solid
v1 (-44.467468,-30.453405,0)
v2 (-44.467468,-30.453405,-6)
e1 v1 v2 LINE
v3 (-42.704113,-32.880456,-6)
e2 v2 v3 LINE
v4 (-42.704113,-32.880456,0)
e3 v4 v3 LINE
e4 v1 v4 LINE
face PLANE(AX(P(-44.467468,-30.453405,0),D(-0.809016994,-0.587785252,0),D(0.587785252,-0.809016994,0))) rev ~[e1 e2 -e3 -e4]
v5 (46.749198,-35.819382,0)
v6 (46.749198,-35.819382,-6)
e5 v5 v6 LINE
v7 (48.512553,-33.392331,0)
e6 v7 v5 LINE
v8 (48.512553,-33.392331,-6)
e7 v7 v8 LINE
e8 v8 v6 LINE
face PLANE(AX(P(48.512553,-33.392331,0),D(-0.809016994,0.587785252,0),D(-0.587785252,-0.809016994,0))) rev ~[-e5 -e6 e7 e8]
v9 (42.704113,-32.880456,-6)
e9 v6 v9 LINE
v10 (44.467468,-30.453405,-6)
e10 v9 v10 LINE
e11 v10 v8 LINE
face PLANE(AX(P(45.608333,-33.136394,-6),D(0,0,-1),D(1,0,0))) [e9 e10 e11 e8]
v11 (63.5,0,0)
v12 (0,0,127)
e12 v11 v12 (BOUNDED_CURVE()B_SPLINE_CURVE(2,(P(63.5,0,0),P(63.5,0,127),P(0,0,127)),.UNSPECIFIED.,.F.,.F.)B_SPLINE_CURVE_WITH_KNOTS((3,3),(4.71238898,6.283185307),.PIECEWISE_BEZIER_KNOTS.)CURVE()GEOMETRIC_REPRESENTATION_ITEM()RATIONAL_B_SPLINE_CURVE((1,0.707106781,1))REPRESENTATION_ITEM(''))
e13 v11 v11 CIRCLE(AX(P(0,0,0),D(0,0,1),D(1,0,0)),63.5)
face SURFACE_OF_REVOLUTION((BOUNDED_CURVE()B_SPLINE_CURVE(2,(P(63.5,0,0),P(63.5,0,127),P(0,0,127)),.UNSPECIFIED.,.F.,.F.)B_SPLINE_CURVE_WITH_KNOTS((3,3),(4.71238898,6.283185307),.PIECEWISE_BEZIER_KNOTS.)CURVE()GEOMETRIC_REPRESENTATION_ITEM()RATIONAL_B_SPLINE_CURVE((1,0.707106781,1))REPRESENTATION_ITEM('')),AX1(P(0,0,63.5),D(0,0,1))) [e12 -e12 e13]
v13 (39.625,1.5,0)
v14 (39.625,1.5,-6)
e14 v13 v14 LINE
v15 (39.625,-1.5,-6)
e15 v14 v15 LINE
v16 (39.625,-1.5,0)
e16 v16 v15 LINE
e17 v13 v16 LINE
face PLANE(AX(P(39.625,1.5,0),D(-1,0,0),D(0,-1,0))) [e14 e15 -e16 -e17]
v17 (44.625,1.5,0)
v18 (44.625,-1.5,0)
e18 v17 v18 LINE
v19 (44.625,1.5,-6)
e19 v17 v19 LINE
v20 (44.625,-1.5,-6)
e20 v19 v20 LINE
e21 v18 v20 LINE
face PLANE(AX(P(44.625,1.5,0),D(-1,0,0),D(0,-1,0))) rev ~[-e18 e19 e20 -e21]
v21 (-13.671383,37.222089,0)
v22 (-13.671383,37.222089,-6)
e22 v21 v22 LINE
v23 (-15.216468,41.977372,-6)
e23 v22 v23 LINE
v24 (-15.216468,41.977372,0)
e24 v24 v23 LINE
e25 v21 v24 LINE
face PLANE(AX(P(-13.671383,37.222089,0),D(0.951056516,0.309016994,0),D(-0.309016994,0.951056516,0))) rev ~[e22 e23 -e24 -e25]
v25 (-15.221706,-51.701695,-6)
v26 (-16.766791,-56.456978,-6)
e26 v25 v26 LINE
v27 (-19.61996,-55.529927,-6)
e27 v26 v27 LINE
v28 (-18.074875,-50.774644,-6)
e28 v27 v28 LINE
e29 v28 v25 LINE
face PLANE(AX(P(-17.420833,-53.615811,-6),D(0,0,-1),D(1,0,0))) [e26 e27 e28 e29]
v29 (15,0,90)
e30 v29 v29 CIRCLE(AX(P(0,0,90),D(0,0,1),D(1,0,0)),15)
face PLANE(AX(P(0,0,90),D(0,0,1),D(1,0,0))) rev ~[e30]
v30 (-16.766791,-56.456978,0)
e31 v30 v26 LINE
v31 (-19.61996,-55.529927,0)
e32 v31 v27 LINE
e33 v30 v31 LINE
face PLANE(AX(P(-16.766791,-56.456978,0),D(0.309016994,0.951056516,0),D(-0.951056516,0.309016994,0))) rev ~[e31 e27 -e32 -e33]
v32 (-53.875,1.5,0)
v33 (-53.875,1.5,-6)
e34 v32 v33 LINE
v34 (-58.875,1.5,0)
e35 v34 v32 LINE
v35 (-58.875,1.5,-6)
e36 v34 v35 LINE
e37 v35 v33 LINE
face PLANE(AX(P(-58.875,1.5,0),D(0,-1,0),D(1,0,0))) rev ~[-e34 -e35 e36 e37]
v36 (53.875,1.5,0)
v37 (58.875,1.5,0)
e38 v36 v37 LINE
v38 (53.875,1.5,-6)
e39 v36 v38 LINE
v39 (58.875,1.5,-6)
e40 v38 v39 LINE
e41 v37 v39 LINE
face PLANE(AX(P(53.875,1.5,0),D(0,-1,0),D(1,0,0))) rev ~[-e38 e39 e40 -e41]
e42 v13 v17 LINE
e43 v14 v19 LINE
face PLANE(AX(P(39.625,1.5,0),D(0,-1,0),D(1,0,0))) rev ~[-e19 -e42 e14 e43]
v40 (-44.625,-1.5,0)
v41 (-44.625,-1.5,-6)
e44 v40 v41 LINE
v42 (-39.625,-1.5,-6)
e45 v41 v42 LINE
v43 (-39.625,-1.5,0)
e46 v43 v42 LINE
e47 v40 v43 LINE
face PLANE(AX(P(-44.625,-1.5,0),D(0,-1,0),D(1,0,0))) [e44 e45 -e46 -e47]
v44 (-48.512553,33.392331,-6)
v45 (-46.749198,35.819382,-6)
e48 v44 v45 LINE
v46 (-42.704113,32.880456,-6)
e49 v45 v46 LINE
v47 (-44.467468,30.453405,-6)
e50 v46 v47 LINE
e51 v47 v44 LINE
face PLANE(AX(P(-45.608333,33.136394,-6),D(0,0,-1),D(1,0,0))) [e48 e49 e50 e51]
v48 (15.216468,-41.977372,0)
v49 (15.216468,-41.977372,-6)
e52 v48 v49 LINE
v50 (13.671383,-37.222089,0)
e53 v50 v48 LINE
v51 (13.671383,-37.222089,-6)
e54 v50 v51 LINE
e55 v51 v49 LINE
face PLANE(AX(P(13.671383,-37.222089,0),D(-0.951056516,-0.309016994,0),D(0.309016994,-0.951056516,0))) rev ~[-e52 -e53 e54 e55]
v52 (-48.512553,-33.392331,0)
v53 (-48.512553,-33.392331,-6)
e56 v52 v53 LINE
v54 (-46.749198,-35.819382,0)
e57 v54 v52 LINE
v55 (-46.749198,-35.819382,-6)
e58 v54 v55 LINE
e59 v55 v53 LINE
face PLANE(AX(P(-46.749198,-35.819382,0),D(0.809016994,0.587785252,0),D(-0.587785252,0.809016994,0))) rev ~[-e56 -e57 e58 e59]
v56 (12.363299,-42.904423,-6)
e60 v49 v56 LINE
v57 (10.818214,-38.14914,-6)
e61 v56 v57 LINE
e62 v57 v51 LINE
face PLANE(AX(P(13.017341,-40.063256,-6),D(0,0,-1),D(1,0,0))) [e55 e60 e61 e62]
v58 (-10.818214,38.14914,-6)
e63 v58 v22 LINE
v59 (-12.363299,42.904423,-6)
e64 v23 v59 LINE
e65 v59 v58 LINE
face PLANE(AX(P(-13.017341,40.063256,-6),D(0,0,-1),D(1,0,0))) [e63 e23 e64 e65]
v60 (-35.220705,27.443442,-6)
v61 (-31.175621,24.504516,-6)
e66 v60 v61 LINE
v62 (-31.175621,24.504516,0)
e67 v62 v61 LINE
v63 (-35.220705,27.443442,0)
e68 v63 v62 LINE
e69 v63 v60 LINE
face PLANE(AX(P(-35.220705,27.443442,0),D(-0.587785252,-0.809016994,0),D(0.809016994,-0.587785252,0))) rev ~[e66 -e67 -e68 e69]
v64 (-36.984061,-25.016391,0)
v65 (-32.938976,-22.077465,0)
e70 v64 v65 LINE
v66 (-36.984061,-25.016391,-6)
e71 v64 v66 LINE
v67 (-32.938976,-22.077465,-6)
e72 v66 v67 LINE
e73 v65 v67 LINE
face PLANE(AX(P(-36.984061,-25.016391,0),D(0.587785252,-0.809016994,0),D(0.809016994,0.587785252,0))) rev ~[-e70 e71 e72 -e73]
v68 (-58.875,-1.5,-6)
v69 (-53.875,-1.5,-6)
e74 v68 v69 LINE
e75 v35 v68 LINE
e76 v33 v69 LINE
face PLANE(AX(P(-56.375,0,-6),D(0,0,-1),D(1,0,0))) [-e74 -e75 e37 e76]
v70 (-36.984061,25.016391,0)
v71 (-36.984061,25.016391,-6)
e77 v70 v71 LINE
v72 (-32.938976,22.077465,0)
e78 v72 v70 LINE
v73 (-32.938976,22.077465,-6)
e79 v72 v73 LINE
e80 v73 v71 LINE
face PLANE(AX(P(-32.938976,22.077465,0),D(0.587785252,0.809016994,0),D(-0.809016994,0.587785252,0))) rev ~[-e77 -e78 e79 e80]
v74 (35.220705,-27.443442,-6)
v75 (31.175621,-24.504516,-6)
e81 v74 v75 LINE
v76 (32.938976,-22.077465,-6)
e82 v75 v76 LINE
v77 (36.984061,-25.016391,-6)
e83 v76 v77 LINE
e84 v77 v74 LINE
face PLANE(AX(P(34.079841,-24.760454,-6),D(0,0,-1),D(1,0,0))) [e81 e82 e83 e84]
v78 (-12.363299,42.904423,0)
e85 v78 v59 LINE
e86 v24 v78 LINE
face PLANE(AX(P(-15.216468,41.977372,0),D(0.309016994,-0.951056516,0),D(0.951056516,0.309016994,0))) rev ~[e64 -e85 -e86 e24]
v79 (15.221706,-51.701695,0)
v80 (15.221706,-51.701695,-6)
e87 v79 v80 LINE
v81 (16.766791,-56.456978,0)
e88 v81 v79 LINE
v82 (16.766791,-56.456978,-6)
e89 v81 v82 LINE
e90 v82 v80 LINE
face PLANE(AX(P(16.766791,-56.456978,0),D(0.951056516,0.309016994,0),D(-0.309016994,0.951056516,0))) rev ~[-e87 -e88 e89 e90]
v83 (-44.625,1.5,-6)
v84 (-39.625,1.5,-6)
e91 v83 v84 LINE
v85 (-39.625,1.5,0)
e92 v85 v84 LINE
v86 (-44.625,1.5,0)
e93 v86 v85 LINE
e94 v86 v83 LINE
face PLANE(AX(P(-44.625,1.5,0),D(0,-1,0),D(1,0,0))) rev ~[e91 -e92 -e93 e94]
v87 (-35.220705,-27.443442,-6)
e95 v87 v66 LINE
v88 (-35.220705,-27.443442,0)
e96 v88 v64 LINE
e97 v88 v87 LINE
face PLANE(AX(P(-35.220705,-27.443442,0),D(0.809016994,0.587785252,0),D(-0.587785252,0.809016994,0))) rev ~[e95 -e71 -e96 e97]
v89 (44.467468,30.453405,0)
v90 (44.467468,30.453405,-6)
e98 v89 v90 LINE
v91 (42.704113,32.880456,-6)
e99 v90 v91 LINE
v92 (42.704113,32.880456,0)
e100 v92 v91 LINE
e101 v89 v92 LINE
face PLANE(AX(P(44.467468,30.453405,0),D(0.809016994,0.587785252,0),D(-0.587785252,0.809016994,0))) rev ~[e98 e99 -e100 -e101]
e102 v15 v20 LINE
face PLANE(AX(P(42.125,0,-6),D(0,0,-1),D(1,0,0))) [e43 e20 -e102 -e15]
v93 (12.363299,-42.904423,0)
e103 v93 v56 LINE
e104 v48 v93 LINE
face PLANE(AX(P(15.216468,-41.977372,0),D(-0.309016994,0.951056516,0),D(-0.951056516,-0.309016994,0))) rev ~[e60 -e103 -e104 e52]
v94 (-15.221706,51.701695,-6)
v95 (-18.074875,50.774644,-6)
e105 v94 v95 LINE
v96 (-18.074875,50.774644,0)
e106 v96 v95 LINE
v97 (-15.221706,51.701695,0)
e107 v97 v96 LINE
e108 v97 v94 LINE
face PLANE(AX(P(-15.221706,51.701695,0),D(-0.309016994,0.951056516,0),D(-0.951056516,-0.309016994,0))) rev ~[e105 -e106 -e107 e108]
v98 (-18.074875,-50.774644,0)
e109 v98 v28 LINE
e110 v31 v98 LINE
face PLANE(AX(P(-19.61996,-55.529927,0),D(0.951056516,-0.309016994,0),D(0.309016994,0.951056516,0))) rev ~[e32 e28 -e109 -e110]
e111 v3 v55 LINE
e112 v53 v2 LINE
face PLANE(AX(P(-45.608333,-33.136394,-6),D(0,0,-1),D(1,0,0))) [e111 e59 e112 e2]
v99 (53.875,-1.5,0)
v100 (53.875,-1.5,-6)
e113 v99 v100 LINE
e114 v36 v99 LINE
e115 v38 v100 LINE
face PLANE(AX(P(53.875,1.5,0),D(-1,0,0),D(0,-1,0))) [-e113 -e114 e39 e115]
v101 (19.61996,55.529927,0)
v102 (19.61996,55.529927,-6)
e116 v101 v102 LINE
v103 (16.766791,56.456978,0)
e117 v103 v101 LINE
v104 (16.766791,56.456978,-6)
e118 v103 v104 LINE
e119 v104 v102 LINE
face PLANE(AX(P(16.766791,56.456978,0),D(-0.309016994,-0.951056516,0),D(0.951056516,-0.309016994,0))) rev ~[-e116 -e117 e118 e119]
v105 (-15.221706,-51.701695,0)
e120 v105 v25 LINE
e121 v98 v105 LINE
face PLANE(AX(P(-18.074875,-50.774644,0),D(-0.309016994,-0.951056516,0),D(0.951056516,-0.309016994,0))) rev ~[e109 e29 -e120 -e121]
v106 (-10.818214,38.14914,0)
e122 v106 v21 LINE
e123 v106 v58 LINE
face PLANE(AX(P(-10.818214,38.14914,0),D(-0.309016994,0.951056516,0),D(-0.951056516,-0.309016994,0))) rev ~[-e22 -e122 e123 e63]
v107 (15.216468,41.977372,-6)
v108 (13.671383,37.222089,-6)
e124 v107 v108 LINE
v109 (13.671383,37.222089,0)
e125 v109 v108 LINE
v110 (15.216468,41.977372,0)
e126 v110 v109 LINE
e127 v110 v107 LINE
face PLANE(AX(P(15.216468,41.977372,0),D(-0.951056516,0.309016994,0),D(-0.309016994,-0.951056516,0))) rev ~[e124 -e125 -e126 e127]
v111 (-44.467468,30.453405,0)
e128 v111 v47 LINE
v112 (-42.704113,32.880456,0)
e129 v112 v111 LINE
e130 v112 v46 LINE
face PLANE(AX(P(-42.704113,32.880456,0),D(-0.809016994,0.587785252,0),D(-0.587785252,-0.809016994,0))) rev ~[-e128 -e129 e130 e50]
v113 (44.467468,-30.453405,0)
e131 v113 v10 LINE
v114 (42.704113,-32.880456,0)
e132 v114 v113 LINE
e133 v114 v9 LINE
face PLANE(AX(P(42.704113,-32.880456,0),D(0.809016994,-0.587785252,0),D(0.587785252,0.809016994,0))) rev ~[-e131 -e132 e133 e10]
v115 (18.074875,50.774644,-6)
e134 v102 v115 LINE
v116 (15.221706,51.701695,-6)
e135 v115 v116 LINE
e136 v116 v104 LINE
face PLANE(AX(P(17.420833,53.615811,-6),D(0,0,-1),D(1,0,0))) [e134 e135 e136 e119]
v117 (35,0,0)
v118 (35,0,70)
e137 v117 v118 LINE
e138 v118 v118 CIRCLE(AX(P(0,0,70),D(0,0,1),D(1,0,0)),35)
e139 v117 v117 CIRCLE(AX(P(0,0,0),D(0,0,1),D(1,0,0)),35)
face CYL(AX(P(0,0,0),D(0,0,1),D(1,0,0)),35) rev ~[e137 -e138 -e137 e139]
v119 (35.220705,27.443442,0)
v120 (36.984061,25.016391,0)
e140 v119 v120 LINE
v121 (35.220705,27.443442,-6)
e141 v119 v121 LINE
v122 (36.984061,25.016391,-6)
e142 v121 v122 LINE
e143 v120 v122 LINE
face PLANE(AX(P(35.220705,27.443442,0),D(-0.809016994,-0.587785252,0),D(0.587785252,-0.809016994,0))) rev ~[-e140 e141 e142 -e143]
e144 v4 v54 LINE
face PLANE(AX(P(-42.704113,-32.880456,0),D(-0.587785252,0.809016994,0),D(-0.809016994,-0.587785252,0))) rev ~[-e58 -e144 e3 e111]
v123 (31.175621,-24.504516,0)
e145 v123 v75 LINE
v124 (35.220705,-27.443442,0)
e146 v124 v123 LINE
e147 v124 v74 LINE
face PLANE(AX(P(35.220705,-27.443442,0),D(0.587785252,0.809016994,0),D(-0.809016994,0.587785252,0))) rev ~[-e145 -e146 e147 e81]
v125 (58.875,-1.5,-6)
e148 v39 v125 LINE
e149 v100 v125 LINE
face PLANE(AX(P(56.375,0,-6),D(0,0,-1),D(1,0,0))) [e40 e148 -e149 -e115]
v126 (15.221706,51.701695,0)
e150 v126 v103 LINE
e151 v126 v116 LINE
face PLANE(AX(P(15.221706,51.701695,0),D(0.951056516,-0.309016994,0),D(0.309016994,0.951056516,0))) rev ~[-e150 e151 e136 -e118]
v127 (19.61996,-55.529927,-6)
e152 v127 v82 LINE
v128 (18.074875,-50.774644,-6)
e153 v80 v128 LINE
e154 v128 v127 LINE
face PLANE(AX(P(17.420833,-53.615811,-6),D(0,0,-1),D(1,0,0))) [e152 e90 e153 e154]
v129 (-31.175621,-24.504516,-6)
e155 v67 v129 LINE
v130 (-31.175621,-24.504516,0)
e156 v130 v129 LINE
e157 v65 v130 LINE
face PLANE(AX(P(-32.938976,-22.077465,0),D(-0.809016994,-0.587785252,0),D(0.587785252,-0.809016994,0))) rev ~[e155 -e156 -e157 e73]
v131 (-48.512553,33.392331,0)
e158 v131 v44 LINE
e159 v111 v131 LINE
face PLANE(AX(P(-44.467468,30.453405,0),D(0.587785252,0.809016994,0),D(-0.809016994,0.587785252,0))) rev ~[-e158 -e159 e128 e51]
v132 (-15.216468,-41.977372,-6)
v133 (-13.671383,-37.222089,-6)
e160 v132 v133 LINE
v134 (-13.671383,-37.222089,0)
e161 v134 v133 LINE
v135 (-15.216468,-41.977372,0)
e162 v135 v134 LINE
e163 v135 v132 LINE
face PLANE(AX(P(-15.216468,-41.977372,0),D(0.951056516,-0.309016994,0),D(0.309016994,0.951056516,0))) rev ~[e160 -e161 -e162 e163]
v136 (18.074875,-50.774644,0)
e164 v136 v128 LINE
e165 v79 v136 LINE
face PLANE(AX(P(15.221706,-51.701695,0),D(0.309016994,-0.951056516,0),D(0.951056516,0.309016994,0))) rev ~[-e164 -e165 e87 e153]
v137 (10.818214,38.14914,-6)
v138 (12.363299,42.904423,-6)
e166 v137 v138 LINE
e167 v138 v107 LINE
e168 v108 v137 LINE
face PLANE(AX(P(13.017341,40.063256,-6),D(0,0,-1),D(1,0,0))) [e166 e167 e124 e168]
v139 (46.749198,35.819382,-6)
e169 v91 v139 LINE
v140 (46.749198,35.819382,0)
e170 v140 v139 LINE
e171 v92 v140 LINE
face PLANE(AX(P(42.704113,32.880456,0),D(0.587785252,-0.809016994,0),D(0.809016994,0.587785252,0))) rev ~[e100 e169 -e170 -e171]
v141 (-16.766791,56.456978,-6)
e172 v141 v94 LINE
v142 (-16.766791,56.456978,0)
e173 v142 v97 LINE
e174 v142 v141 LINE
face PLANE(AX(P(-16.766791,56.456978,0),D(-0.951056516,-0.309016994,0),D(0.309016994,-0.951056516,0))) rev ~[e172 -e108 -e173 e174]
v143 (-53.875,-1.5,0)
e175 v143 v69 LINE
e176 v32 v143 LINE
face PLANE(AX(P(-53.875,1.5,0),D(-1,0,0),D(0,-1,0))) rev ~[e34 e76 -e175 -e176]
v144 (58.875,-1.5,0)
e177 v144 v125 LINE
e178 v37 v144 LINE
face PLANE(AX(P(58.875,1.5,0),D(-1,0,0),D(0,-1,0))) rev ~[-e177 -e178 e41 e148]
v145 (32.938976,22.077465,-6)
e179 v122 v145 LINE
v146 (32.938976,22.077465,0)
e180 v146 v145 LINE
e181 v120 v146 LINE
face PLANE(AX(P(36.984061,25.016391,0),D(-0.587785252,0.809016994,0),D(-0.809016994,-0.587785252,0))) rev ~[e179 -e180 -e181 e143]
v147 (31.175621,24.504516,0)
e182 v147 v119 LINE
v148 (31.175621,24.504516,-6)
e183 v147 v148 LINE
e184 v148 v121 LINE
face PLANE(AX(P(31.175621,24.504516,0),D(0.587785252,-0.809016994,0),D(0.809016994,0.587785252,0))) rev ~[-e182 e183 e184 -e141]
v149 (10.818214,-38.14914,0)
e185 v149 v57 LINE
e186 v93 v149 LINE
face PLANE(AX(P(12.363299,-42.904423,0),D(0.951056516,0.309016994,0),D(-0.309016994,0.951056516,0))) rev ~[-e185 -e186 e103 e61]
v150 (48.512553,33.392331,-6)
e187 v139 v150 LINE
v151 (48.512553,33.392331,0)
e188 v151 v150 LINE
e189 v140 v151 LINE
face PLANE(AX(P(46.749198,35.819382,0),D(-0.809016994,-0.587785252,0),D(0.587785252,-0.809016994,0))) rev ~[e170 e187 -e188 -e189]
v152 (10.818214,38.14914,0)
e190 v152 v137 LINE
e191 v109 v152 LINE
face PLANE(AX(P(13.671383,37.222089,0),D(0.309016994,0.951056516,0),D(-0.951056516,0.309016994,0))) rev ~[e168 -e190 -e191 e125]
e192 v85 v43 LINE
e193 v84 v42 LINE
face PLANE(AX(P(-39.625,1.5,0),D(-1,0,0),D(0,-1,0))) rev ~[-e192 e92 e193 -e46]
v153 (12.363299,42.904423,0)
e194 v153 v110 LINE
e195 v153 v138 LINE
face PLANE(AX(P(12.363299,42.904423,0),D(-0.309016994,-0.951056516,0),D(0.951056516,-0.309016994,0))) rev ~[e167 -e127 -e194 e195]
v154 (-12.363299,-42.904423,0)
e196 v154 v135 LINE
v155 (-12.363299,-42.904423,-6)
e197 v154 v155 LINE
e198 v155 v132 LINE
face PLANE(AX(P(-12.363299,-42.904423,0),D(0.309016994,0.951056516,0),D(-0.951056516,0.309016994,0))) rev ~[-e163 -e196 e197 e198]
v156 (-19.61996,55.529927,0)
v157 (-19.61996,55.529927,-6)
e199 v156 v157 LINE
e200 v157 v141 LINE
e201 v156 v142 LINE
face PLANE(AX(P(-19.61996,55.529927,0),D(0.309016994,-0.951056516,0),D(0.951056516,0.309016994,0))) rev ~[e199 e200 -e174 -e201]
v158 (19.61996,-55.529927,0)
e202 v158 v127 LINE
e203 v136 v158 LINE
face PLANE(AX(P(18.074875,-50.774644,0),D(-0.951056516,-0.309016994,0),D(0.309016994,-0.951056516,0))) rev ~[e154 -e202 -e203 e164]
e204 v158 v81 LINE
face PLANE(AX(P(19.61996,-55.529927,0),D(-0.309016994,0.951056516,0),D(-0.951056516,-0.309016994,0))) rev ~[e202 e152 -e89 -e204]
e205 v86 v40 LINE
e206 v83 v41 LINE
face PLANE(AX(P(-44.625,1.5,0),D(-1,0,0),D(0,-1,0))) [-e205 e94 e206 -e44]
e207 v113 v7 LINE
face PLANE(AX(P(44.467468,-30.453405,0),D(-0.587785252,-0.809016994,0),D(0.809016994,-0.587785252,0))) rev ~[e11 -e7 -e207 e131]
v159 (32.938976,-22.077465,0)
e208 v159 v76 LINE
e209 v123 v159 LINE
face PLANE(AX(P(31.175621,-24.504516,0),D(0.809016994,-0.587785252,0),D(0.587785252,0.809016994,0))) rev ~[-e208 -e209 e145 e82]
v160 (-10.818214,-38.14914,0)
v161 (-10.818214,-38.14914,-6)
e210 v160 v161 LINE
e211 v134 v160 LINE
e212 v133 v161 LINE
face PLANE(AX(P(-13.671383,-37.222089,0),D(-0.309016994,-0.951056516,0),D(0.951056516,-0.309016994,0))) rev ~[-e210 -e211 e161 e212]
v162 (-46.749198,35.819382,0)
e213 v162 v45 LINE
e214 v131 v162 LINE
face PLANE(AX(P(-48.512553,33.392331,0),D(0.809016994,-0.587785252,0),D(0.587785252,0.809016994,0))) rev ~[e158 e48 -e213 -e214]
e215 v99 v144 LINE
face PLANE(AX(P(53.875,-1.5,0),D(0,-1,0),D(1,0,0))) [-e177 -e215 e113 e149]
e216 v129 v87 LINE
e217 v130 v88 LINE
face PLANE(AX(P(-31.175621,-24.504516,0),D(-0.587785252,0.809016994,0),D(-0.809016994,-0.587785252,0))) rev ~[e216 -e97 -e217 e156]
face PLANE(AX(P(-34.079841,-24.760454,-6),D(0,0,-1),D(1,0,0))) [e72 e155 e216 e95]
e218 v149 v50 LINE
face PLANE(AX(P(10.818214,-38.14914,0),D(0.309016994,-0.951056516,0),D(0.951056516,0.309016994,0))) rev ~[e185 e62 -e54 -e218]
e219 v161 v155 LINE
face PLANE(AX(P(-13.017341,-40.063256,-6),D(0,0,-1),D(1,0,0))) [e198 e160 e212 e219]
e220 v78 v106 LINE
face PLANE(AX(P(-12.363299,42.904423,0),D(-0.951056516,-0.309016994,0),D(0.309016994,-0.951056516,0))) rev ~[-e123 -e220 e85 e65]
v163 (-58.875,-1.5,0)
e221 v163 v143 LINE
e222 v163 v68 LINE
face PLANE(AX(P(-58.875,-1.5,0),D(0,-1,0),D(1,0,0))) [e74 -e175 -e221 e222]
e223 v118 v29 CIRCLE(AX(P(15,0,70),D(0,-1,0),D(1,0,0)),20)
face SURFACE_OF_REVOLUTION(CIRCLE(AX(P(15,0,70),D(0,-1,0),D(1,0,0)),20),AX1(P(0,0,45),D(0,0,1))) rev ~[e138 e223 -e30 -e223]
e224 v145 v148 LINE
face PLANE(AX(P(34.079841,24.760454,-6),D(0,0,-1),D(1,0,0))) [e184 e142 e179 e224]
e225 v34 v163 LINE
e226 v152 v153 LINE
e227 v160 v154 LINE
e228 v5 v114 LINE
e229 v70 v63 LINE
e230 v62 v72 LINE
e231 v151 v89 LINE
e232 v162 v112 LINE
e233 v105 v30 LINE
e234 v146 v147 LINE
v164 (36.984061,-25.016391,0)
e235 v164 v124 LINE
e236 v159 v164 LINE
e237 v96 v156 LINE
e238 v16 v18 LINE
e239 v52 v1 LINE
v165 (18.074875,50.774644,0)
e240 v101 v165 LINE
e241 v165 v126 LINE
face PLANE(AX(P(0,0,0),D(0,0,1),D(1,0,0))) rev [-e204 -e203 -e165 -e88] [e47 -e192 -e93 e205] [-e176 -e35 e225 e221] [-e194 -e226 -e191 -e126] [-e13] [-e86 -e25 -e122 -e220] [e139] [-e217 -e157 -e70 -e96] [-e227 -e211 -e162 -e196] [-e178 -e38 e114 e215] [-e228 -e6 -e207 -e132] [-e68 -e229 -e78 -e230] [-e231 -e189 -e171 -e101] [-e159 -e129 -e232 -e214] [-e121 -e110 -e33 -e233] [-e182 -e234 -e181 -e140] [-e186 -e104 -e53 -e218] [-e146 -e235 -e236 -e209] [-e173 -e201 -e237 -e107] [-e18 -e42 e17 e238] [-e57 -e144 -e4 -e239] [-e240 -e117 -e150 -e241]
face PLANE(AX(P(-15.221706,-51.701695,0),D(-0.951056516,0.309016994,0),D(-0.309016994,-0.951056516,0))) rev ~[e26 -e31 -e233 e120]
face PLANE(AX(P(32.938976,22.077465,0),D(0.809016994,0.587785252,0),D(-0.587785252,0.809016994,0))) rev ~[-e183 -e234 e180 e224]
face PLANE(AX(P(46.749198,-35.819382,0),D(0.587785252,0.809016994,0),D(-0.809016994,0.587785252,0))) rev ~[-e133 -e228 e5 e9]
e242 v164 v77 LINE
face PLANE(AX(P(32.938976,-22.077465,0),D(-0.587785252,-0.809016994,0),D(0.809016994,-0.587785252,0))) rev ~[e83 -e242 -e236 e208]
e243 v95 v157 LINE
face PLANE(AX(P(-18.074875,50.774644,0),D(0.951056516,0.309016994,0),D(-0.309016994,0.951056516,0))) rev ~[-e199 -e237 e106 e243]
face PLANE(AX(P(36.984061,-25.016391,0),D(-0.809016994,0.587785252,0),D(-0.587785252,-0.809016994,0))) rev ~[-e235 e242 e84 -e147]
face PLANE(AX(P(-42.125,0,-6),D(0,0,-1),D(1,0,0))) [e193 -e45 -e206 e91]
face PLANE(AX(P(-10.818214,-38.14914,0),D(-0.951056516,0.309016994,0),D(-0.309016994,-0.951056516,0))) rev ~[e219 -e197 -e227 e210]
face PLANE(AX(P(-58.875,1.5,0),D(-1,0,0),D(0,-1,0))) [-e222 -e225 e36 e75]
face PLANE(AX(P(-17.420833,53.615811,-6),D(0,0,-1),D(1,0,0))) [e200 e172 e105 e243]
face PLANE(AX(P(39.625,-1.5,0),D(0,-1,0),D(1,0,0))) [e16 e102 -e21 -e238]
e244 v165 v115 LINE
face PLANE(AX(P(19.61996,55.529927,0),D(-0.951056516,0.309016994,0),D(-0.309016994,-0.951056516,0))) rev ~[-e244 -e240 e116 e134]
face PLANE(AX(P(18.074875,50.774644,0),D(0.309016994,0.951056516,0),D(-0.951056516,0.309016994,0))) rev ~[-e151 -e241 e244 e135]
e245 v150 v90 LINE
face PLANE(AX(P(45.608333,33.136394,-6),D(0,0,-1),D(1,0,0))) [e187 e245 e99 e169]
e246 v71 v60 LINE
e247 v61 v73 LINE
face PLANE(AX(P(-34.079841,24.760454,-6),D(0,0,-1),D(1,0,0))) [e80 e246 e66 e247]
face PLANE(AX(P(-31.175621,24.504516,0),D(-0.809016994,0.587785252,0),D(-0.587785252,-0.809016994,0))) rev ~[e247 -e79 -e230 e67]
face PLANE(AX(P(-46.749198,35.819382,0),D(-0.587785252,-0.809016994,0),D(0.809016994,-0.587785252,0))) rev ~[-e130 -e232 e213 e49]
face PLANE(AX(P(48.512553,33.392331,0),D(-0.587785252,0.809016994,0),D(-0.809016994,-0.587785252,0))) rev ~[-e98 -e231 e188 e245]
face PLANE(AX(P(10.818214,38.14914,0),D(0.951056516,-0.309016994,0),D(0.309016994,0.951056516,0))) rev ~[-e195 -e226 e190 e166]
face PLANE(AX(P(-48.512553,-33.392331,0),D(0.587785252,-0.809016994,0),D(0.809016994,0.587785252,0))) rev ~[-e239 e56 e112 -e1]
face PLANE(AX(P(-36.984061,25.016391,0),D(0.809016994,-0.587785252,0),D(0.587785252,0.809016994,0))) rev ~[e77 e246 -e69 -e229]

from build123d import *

# Parameters (mm, degrees)
F4_W     = 5
F4_H     = 3
F5_DEPTH = 6


with BuildPart() as f1:
    # F0 (on Front) → F1 (revolve)
    with BuildSketch(Plane.XZ):
        with BuildLine():
            Line((0, 0), (63.5, 0))
            add(Edge.make_bspline(
                [(63.5, 0), (63.5, 127), (0, 127)],
                knots=[4.7123889804, 4.7123889804, 4.7123889804, 6.2831853072, 6.2831853072, 6.2831853072], degree=2, weights=[1, 0.7071067812, 1]))
            Line((0, 127), (0, 0))
        make_face()
    revolve(axis=Axis((0, 0, 63.5), (0, 0, 1)))

    # F2 (on Front) → F3 (revolve, cut)
    with BuildSketch(Plane.XZ):
        with BuildLine():
            ThreePointArc((35, 70), (29.1421356237, 84.1421356237), (15, 90))
            Line((15, 90), (0, 90))
            Line((0, 90), (0, 0))
            Line((0, 0), (35, 0))
            Line((35, 0), (35, 70))
        make_face()
    revolve(axis=Axis((0, 0, 45), (0, 0, 1)), mode=Mode.SUBTRACT)

    # F4 (on face) → F5 (join)
    with BuildSketch(Plane(origin=(0, 0, 0), x_dir=(1, 0, 0), z_dir=(0, 0, -1))):
        with Locations((-56.375, 0)):
            Rectangle(F4_W, F4_H)
        with Locations((-42.125, 0)):
            Rectangle(F4_W, F4_H)
        Polygon((-46.7491976654, -35.8193822203), (-42.7041126935, -32.8804559588), (-44.4674684504, -30.4534049757), (-48.5125534223, -33.3923312372), align=None)
        Polygon((-35.2207054955, -27.4434423751), (-31.1756205237, -24.5045161137), (-32.9389762805, -22.0774651305), (-36.9840612524, -25.016391392), align=None)
        Polygon((-16.7667907694, -56.4569778884), (-15.2217057975, -51.701695307), (-18.0748753464, -50.7746443238), (-19.6199603183, -55.5299269053), align=None)
        Polygon((-12.3632985995, -42.9044225312), (-10.8182136277, -38.1491399498), (-13.6713831766, -37.2220889666), (-15.2164681484, -41.9773715481), align=None)
        Polygon((19.6199603183, -55.5299269053), (18.0748753464, -50.7746443238), (15.2217057975, -51.701695307), (16.7667907694, -56.4569778884), align=None)
        Polygon((15.2164681484, -41.9773715481), (13.6713831766, -37.2220889666), (10.8182136277, -38.1491399498), (12.3632985995, -42.9044225312), align=None)
        Polygon((48.5125534223, -33.3923312372), (44.4674684504, -30.4534049757), (42.7041126935, -32.8804559588), (46.7491976654, -35.8193822203), align=None)
        Polygon((36.9840612524, -25.016391392), (32.9389762805, -22.0774651305), (31.1756205237, -24.5045161137), (35.2207054955, -27.4434423751), align=None)
        with Locations((56.375, 0)):
            Rectangle(F4_W, F4_H)
        with Locations((42.125, 0)):
            Rectangle(F4_W, F4_H)
        Polygon((46.7491976654, 35.8193822203), (42.7041126935, 32.8804559588), (44.4674684504, 30.4534049757), (48.5125534223, 33.3923312372), align=None)
        Polygon((35.2207054955, 27.4434423751), (31.1756205237, 24.5045161137), (32.9389762805, 22.0774651305), (36.9840612524, 25.016391392), align=None)
        Polygon((16.7667907694, 56.4569778884), (15.2217057975, 51.701695307), (18.0748753464, 50.7746443238), (19.6199603183, 55.5299269053), align=None)
        Polygon((12.3632985995, 42.9044225312), (10.8182136277, 38.1491399498), (13.6713831766, 37.2220889666), (15.2164681484, 41.9773715481), align=None)
        Polygon((-19.6199603183, 55.5299269053), (-18.0748753464, 50.7746443238), (-15.2217057975, 51.701695307), (-16.7667907694, 56.4569778884), align=None)
        Polygon((-15.2164681484, 41.9773715481), (-13.6713831766, 37.2220889666), (-10.8182136277, 38.1491399498), (-12.3632985995, 42.9044225312), align=None)
        Polygon((-48.5125534223, 33.3923312372), (-44.4674684504, 30.4534049757), (-42.7041126935, 32.8804559588), (-46.7491976654, 35.8193822203), align=None)
        Polygon((-36.9840612524, 25.016391392), (-32.9389762805, 22.0774651305), (-31.1756205237, 24.5045161137), (-35.2207054955, 27.4434423751), align=None)
    extrude(amount=F5_DEPTH)


solid = f1.part
